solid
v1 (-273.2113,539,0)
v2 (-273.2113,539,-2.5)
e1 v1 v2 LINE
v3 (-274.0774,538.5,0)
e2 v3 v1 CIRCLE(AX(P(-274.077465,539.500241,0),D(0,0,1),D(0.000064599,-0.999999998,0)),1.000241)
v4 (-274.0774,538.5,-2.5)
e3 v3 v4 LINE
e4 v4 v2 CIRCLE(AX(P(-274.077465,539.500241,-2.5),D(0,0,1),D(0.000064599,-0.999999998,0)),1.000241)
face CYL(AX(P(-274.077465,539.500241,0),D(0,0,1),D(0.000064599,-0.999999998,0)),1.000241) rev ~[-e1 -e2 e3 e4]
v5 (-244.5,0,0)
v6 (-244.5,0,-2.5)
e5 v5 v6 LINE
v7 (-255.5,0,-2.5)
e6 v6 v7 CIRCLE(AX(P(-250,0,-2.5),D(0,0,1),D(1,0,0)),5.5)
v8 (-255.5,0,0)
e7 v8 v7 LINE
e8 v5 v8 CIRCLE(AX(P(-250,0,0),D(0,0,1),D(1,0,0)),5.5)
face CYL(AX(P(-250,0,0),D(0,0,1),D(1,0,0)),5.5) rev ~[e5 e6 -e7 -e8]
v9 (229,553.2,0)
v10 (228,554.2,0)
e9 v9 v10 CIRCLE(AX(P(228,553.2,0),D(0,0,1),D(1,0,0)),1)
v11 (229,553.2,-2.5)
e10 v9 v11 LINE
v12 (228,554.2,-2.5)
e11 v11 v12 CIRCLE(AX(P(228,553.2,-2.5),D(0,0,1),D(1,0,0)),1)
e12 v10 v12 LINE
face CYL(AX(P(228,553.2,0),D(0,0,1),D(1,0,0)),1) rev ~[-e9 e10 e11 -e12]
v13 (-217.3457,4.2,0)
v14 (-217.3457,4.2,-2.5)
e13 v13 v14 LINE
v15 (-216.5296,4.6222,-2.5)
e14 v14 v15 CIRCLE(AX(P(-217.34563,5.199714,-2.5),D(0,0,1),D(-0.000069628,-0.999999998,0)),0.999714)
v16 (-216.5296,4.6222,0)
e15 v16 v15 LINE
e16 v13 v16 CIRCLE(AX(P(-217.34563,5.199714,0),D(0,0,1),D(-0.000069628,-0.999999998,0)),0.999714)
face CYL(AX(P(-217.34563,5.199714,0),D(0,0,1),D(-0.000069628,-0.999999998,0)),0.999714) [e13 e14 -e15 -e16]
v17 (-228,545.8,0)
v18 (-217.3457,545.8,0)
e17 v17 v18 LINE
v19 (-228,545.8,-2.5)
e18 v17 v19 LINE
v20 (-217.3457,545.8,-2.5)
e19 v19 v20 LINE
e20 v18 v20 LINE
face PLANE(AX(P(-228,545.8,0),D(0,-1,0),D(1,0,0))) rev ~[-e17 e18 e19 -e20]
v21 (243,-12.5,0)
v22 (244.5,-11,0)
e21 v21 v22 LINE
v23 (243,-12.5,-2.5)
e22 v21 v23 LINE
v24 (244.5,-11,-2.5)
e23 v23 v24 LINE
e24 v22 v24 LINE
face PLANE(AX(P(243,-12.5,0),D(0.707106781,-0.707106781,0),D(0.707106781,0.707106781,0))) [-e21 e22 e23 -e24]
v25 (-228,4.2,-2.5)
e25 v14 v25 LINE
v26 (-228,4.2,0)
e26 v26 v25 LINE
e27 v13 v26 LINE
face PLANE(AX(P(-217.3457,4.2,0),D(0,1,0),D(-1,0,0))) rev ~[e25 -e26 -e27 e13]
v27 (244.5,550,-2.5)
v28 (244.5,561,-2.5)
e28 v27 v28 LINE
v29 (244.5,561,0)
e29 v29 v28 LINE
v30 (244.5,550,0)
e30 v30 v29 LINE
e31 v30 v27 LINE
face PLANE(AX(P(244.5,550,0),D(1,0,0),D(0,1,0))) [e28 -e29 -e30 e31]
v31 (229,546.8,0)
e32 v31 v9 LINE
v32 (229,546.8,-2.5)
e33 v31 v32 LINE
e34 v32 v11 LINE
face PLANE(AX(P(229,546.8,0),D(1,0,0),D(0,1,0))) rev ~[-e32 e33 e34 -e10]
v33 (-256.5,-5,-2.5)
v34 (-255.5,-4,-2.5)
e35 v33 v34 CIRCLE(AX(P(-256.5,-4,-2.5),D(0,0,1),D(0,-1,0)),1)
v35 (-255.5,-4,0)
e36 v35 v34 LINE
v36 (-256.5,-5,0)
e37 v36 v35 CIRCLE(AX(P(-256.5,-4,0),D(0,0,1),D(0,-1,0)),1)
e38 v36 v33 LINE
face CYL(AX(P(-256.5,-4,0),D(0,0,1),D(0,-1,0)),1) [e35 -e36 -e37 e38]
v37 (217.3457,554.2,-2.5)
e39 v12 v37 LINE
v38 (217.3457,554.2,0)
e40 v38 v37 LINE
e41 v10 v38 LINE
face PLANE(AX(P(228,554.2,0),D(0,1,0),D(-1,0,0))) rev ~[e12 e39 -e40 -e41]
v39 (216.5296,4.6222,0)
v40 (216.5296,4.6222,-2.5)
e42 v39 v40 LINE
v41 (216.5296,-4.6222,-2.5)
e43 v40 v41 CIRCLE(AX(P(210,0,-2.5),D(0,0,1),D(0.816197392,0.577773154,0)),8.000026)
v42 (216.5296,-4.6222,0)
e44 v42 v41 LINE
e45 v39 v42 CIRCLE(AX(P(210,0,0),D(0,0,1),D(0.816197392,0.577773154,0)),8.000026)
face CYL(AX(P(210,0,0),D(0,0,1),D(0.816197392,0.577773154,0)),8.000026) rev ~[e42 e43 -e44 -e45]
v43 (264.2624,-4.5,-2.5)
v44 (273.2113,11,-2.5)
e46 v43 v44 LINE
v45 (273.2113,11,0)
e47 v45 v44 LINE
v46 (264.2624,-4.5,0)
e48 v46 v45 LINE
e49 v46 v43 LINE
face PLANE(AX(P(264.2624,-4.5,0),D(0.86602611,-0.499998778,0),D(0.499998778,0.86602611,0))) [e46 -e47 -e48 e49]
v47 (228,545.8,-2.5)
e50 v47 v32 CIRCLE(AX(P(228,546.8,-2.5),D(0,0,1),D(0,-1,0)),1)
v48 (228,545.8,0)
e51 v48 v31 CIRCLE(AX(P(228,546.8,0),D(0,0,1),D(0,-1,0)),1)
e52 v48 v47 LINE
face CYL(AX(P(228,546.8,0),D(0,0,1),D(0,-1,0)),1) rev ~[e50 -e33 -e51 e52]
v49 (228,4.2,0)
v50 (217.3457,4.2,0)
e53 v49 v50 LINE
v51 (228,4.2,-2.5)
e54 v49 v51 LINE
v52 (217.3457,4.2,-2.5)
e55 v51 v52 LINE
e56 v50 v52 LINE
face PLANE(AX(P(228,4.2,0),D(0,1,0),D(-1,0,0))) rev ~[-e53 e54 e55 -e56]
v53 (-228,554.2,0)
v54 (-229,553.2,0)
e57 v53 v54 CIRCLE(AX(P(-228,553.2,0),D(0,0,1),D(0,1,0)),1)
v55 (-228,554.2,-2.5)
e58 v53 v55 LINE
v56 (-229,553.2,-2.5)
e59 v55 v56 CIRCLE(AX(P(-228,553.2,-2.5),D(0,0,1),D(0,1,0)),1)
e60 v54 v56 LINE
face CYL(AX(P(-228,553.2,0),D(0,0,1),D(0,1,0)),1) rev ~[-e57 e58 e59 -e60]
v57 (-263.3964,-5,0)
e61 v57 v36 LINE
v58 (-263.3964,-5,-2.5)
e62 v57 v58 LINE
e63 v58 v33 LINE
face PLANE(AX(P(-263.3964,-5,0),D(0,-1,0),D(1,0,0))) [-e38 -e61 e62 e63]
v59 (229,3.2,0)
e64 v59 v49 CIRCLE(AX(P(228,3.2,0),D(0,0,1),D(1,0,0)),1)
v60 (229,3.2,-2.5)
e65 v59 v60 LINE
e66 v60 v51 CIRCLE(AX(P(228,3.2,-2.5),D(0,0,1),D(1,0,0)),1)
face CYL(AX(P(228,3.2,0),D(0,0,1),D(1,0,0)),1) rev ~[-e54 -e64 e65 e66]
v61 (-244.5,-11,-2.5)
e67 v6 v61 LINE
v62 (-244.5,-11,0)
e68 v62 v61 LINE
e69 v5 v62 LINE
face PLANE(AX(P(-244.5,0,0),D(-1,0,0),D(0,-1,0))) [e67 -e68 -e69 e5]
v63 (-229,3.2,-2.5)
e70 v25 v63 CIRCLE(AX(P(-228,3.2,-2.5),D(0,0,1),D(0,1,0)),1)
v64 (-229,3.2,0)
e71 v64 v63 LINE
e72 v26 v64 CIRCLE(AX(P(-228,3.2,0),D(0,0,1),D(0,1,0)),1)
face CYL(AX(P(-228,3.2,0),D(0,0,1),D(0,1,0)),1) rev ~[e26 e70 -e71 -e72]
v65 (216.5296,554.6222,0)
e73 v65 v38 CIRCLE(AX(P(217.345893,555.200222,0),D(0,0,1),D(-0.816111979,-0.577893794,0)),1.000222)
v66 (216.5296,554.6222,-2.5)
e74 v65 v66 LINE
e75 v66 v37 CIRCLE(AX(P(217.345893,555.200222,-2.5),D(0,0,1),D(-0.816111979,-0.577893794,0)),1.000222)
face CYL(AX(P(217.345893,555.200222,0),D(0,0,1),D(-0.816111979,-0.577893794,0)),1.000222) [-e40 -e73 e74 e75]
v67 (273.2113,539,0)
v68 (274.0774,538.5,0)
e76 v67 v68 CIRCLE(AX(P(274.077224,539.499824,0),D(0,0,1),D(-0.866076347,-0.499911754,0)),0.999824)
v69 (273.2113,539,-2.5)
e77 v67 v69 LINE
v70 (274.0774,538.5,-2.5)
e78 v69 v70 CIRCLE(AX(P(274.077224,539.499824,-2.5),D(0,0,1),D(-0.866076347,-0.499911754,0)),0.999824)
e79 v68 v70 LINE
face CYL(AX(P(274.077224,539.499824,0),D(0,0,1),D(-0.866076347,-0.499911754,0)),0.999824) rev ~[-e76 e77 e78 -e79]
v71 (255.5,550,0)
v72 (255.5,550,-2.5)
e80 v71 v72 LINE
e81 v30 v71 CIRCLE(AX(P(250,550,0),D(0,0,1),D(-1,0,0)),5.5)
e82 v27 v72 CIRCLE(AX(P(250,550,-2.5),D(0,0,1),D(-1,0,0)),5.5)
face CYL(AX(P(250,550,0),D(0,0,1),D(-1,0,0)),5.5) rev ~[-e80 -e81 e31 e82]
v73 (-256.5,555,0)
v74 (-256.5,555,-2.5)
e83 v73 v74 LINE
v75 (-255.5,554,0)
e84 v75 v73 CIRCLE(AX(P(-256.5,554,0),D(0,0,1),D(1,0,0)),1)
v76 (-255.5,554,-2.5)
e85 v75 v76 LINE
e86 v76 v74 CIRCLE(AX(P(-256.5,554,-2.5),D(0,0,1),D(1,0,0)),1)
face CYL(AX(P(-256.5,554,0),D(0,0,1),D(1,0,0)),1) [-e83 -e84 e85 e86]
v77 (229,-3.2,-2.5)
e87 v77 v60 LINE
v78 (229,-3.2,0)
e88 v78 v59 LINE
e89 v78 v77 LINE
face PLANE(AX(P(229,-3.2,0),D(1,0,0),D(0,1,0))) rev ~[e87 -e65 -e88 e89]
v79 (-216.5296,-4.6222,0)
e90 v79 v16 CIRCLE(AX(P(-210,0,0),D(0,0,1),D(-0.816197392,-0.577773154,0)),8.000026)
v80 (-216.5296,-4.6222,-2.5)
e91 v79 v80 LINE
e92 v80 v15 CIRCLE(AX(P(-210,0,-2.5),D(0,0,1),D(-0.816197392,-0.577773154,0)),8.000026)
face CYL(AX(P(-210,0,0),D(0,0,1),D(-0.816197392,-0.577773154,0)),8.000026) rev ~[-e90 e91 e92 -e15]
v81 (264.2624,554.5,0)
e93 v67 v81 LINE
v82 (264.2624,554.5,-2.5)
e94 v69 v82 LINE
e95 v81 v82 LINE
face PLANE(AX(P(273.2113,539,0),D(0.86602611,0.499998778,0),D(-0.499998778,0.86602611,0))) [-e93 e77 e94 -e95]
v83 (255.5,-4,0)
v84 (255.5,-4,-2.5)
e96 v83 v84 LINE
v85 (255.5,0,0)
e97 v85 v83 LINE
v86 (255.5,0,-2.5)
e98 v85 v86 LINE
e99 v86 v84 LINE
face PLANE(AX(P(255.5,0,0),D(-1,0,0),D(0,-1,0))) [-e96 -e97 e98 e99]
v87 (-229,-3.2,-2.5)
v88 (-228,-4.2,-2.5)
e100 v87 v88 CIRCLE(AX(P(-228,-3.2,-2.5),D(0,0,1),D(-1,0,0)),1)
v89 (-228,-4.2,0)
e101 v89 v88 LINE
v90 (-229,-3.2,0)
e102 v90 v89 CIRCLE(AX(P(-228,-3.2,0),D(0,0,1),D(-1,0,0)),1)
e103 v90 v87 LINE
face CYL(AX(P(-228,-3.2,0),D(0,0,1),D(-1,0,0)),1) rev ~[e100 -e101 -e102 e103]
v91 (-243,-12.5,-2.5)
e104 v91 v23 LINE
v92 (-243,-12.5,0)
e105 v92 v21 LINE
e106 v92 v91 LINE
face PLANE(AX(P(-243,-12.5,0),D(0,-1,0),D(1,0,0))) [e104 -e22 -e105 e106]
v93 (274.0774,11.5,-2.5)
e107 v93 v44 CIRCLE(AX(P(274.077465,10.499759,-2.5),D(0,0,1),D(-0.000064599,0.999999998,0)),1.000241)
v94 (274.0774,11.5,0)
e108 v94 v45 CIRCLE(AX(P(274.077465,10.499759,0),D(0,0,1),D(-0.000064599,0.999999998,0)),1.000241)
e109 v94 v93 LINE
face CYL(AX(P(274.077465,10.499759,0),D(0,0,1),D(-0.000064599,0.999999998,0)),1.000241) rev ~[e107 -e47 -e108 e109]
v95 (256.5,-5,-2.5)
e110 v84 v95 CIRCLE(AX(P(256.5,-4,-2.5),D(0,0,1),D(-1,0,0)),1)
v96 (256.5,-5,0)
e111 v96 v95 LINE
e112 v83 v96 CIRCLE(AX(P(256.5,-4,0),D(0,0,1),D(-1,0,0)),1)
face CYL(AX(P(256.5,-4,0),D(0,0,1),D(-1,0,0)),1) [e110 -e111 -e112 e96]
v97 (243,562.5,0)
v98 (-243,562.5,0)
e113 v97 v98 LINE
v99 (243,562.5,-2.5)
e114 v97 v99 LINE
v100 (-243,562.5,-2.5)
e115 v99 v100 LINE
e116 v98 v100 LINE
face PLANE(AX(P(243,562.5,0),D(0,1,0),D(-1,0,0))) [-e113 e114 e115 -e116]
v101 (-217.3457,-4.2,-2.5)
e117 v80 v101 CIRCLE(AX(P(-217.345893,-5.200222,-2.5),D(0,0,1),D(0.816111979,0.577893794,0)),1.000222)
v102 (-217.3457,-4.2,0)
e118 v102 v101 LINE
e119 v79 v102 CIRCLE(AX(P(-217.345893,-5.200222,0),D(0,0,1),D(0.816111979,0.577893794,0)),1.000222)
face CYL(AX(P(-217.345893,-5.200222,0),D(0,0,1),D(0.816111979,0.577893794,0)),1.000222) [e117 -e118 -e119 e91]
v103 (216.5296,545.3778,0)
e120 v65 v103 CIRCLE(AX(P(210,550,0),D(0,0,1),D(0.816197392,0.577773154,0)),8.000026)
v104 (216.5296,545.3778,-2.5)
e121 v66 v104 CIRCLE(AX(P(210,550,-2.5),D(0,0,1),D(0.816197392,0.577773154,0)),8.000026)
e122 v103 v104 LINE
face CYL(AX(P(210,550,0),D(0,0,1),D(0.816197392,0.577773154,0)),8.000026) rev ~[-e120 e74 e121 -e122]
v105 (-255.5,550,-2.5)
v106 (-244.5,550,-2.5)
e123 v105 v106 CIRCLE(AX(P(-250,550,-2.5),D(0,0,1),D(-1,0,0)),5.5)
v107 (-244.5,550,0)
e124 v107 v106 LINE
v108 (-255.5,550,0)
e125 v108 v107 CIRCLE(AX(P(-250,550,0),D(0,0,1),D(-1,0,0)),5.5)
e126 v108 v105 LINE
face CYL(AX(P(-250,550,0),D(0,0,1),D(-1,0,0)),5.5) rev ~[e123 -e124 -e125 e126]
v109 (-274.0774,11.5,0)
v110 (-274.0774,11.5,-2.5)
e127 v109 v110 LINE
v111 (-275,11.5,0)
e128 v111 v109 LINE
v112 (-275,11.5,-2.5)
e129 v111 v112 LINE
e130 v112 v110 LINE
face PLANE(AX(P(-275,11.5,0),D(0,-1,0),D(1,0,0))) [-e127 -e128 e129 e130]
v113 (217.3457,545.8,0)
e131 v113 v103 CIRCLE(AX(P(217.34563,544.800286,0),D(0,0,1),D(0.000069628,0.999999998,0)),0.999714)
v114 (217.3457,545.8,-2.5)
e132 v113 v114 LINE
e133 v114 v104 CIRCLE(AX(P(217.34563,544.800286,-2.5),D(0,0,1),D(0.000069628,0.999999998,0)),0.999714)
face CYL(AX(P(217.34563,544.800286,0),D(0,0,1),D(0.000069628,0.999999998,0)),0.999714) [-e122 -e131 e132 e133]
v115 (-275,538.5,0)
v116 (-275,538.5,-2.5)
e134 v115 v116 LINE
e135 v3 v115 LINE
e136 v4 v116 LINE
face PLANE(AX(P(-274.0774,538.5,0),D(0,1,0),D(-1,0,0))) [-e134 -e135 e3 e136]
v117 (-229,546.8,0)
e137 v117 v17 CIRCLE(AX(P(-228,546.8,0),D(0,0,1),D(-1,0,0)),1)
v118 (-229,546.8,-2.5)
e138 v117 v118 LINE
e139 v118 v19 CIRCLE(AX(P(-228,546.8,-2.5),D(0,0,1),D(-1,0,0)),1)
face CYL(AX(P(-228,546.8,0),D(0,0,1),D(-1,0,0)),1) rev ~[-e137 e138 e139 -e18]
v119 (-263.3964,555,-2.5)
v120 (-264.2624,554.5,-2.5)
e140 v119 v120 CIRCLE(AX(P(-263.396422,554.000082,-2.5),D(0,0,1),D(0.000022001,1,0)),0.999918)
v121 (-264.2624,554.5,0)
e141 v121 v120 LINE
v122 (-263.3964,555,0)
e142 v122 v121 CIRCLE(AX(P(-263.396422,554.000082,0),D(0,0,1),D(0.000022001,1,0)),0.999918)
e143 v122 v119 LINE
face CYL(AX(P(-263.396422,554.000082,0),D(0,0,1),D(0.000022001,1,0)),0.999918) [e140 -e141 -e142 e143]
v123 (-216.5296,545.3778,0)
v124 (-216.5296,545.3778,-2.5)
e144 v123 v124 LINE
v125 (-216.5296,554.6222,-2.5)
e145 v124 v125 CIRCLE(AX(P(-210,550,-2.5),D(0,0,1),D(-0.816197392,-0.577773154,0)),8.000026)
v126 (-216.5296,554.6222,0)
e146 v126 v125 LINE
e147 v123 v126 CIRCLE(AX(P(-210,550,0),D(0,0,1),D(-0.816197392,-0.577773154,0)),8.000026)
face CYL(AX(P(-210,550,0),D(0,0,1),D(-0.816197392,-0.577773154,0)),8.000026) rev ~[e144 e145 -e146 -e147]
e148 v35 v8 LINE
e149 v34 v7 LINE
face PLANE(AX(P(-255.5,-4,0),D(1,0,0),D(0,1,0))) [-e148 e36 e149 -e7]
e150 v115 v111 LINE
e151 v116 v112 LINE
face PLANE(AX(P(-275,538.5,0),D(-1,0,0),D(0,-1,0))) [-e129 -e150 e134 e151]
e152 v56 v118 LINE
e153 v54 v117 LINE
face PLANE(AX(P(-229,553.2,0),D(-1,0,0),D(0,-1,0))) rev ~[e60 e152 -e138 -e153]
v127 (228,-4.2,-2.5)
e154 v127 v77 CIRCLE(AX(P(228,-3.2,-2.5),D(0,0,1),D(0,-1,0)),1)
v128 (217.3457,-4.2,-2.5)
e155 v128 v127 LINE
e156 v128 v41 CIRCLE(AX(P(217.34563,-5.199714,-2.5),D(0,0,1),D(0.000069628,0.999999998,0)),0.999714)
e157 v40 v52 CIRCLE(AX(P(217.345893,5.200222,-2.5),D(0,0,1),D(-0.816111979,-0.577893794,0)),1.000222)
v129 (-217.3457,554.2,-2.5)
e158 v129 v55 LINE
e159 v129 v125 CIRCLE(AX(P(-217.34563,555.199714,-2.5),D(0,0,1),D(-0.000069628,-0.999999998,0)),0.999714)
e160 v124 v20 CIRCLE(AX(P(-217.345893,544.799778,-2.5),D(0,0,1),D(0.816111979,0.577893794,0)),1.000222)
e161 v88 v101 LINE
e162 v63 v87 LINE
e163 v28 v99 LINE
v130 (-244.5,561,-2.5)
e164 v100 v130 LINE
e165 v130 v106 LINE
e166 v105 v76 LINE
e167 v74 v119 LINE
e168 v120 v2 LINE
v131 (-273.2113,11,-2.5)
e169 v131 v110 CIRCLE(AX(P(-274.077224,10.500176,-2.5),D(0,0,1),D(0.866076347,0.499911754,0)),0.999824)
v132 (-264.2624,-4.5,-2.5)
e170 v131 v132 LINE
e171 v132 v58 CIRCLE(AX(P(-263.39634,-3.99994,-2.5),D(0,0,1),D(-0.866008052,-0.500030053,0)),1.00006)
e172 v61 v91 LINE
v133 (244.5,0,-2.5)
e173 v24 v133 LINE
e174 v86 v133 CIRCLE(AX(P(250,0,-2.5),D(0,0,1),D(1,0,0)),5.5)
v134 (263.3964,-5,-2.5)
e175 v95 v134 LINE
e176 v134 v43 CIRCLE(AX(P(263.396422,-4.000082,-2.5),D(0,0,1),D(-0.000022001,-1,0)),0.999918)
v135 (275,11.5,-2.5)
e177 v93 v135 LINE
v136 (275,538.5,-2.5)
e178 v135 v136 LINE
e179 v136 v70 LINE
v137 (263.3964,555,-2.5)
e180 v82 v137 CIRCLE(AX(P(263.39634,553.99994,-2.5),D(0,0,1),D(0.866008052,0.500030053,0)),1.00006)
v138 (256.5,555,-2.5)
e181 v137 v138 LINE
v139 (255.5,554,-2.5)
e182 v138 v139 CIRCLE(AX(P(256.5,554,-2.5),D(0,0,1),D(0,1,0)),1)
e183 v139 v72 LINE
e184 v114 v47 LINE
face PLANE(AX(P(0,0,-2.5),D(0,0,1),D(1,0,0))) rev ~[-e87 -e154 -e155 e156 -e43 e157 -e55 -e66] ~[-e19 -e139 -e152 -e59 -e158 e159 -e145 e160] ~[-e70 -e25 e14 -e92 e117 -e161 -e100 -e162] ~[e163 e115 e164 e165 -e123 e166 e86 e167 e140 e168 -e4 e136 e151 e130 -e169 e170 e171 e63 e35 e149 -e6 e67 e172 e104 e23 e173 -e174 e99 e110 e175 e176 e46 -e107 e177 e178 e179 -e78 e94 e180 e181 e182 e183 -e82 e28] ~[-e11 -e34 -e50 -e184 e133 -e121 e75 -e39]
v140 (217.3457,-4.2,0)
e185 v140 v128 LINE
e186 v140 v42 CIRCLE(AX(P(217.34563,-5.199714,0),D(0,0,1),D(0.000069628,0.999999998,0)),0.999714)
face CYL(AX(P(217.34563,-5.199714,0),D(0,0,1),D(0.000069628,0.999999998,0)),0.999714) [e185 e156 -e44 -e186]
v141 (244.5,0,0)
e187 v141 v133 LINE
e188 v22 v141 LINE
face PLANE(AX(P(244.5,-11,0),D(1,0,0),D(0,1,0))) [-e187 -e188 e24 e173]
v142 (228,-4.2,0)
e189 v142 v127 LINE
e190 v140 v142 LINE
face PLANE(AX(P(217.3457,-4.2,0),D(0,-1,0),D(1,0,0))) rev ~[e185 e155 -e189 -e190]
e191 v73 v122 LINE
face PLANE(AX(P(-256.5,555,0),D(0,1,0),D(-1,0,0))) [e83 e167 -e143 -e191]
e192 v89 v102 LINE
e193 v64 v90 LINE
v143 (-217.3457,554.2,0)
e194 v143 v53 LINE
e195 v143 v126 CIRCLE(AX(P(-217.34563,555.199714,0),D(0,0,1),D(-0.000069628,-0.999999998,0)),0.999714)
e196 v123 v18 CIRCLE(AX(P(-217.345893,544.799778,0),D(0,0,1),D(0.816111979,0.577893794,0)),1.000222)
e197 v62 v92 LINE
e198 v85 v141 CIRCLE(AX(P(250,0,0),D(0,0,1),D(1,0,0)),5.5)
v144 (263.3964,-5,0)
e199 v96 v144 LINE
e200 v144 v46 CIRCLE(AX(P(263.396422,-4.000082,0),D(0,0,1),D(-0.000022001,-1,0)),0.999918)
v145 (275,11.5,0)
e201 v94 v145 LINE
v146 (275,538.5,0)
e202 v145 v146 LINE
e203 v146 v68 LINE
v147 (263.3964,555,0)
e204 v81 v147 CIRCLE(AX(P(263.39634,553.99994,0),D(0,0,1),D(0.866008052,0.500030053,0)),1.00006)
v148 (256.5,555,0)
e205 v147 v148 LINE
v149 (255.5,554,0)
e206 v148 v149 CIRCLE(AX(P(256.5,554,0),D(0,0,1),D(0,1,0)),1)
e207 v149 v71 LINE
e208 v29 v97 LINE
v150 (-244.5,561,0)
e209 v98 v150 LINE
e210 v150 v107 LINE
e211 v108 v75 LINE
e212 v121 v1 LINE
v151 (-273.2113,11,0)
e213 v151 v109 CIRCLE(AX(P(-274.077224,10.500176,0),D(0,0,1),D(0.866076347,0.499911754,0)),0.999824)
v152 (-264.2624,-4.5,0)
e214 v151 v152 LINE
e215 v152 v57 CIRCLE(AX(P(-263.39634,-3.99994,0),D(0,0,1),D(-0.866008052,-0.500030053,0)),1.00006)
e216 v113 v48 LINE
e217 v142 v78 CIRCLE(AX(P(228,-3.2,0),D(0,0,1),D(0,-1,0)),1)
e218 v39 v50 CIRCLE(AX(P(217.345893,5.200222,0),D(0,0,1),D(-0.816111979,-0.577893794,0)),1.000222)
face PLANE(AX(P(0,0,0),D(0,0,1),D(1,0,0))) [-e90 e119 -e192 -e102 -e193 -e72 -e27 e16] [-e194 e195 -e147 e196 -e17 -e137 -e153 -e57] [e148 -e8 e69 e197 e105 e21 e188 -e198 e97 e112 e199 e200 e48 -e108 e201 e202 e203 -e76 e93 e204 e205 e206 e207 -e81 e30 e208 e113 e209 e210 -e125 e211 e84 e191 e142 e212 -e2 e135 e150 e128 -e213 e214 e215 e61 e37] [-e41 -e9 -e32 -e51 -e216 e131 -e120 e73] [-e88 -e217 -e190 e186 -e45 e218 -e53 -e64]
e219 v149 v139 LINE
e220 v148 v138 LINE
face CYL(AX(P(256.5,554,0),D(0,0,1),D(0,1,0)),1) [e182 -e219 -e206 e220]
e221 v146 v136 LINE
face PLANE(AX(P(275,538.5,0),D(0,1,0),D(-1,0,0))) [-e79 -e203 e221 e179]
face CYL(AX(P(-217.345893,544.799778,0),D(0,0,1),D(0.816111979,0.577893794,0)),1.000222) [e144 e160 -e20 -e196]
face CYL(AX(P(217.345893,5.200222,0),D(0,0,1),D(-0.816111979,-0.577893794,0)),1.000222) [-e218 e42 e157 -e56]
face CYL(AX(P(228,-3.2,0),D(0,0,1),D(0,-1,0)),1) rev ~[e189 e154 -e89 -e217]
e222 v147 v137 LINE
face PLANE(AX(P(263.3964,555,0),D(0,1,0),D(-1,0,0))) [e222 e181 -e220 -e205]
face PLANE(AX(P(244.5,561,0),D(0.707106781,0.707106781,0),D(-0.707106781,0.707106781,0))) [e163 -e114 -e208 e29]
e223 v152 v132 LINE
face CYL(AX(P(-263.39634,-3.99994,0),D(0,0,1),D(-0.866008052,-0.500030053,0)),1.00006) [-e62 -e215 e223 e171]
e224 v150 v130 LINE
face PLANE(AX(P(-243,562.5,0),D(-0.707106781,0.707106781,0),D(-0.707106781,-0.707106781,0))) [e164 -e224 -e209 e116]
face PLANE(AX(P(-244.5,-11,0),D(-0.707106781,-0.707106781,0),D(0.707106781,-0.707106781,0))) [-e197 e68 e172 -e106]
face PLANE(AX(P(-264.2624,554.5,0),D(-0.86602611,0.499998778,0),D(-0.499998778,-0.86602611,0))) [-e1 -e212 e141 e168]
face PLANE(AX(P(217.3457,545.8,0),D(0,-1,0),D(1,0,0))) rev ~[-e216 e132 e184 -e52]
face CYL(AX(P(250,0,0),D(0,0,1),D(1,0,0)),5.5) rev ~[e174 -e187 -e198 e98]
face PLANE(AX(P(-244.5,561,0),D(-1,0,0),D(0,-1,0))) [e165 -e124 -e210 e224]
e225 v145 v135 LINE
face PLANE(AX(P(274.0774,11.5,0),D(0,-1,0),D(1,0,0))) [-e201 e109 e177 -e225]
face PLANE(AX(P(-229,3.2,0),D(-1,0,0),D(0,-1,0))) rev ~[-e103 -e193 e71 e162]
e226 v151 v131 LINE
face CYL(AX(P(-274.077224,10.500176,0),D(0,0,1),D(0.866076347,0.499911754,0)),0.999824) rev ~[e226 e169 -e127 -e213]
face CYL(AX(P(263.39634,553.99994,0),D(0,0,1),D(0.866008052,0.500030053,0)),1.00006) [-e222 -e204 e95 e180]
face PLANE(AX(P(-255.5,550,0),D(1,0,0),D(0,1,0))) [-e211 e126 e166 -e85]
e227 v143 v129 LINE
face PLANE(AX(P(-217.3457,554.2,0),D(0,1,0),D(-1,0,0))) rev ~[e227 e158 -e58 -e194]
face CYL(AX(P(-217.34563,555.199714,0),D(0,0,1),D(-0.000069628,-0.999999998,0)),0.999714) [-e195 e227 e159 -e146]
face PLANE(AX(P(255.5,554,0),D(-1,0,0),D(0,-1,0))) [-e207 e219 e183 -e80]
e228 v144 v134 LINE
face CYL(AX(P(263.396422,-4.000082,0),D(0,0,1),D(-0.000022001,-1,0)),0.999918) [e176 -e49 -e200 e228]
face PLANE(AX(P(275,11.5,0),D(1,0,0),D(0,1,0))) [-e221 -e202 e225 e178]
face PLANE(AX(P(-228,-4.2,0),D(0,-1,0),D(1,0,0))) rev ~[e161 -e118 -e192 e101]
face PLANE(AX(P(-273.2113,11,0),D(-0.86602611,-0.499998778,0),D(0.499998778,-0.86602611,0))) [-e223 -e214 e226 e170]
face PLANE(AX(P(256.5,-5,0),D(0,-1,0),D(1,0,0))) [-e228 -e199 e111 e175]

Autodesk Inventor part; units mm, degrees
sketch "Sketch_11" plane through (0, 0, 0) normal (0, 0, 1) x (1, 0, 0)
  line L0 (-275, 538.5) -> (-275, 11.5)
  line L1 (-275, 11.5) -> (-274.0774, 11.5)
  arc A0 (-273.2113, 11) -> (-274.0774, 11.5) centre (-274.0774, 10.5) ccw
  line L2 (-273.2113, 11) -> (-264.2624, -4.5)
  arc A1 (-264.2624, -4.5) -> (-263.3964, -5) centre (-263.3964, -4) ccw
  line L3 (-263.3964, -5) -> (-256.5, -5)
  arc A2 (-256.5, -5) -> (-255.5, -4) centre (-256.5, -4) ccw
  line L4 (-255.5, -4) -> (-255.5, 0)
  arc A3 (-244.5, 0) -> (-255.5, 0) centre (-250, 0) ccw
  line L5 (-244.5, 0) -> (-244.5, -11)
  line L6 (-244.5, -11) -> (-243, -12.5)
  line L7 (-243, -12.5) -> (243, -12.5)
  line L8 (243, -12.5) -> (244.5, -11)
  line L9 (244.5, -11) -> (244.5, 0)
  arc A4 (255.5, 0) -> (244.5, 0) centre (250, 0) ccw
  line L10 (255.5, 0) -> (255.5, -4)
  arc A5 (255.5, -4) -> (256.5, -5) centre (256.5, -4) ccw
  line L11 (256.5, -5) -> (263.3964, -5)
  arc A6 (263.3964, -5) -> (264.2624, -4.5) centre (263.3964, -4) ccw
  line L12 (264.2624, -4.5) -> (273.2113, 11)
  arc A7 (274.0774, 11.5) -> (273.2113, 11) centre (274.0774, 10.5) ccw
  line L13 (274.0774, 11.5) -> (275, 11.5)
  line L14 (275, 11.5) -> (275, 538.5)
  line L15 (275, 538.5) -> (274.0774, 538.5)
  arc A8 (273.2113, 539) -> (274.0774, 538.5) centre (274.0774, 539.5) ccw
  line L16 (273.2113, 539) -> (264.2624, 554.5)
  arc A9 (264.2624, 554.5) -> (263.3964, 555) centre (263.3964, 554) ccw
  line L17 (263.3964, 555) -> (256.5, 555)
  arc A10 (256.5, 555) -> (255.5, 554) centre (256.5, 554) ccw
  line L18 (255.5, 554) -> (255.5, 550)
  arc A11 (244.5, 550) -> (255.5, 550) centre (250, 550) ccw
  line L19 (244.5, 550) -> (244.5, 561)
  line L20 (244.5, 561) -> (243, 562.5)
  line L21 (243, 562.5) -> (-243, 562.5)
  line L22 (-243, 562.5) -> (-244.5, 561)
  line L23 (-244.5, 561) -> (-244.5, 550)
  arc A12 (-255.5, 550) -> (-244.5, 550) centre (-250, 550) ccw
  line L24 (-255.5, 550) -> (-255.5, 554)
  arc A13 (-255.5, 554) -> (-256.5, 555) centre (-256.5, 554) ccw
  line L25 (-256.5, 555) -> (-263.3964, 555)
  arc A14 (-263.3964, 555) -> (-264.2624, 554.5) centre (-263.3964, 554) ccw
  line L26 (-264.2624, 554.5) -> (-273.2113, 539)
  arc A15 (-274.0774, 538.5) -> (-273.2113, 539) centre (-274.0774, 539.5) ccw
  line L27 (-274.0774, 538.5) -> (-275, 538.5)
  arc A16 (216.5296, 4.6222) -> (216.5296, -4.6222) centre (210, 0) ccw
  arc A17 (217.3457, -4.2) -> (216.5296, -4.6222) centre (217.3457, -5.2) ccw
  line L28 (217.3457, -4.2) -> (228, -4.2)
  arc A18 (228, -4.2) -> (229, -3.2) centre (228, -3.2) ccw
  line L29 (229, -3.2) -> (229, 3.2)
  arc A19 (229, 3.2) -> (228, 4.2) centre (228, 3.2) ccw
  line L30 (228, 4.2) -> (217.3457, 4.2)
  arc A20 (216.5296, 4.6222) -> (217.3457, 4.2) centre (217.3457, 5.2) ccw
  arc A21 (216.5296, 554.6222) -> (216.5296, 545.3778) centre (210, 550) ccw
  arc A22 (217.3457, 545.8) -> (216.5296, 545.3778) centre (217.3457, 544.8) ccw
  line L31 (217.3457, 545.8) -> (228, 545.8)
  arc A23 (228, 545.8) -> (229, 546.8) centre (228, 546.8) ccw
  line L32 (229, 546.8) -> (229, 553.2)
  arc A24 (229, 553.2) -> (228, 554.2) centre (228, 553.2) ccw
  line L33 (228, 554.2) -> (217.3457, 554.2)
  arc A25 (216.5296, 554.6222) -> (217.3457, 554.2) centre (217.3457, 555.2) ccw
  line L34 (-229, 3.2) -> (-229, -3.2)
  arc A26 (-229, -3.2) -> (-228, -4.2) centre (-228, -3.2) ccw
  line L35 (-228, -4.2) -> (-217.3457, -4.2)
  arc A27 (-216.5296, -4.6222) -> (-217.3457, -4.2) centre (-217.3457, -5.2) ccw
  arc A28 (-216.5296, -4.6222) -> (-216.5296, 4.6222) centre (-210, 0) ccw
  arc A29 (-217.3457, 4.2) -> (-216.5296, 4.6222) centre (-217.3457, 5.2) ccw
  line L36 (-217.3457, 4.2) -> (-228, 4.2)
  arc A30 (-228, 4.2) -> (-229, 3.2) centre (-228, 3.2) ccw
  arc A31 (-229, 546.8) -> (-228, 545.8) centre (-228, 546.8) ccw
  line L37 (-228, 545.8) -> (-217.3457, 545.8)
  arc A32 (-216.5296, 545.3778) -> (-217.3457, 545.8) centre (-217.3457, 544.8) ccw
  arc A33 (-216.5296, 545.3778) -> (-216.5296, 554.6222) centre (-210, 550) ccw
  arc A34 (-217.3457, 554.2) -> (-216.5296, 554.6222) centre (-217.3457, 555.2) ccw
  line L38 (-217.3457, 554.2) -> (-228, 554.2)
  arc A35 (-228, 554.2) -> (-229, 553.2) centre (-228, 553.2) ccw
  line L39 (-229, 553.2) -> (-229, 546.8)
extrude "Extrusion1" add sketch "Sketch_11" against normal blind 2.5
ref_plane "MP_XY" through (0, 0, 0) normal (0, 0, 1) x (1, 0, 0)
ref_plane "MP_YZ" through (0, 0, 0) normal (1, 0, 0) x (0, 1, 0)
ref_plane "MP_ZX" through (0, 0, 0) normal (0, 1, 0) x (0, 0, 1)
ref_plane "to_EB_XY" through (224.8, 0, -2.5) normal (0, 0, 1) x (1, 0, 0)
ref_plane "to_EB_YZ" through (224.8, 0, -2.5) normal (1, 0, 0) x (0, 1, 0)
ref_plane "to_EB_ZX" through (224.8, 0, -2.5) normal (0, 1, 0) x (0, 0, 1)
properties part number "CAD_MPL_1060.000"
